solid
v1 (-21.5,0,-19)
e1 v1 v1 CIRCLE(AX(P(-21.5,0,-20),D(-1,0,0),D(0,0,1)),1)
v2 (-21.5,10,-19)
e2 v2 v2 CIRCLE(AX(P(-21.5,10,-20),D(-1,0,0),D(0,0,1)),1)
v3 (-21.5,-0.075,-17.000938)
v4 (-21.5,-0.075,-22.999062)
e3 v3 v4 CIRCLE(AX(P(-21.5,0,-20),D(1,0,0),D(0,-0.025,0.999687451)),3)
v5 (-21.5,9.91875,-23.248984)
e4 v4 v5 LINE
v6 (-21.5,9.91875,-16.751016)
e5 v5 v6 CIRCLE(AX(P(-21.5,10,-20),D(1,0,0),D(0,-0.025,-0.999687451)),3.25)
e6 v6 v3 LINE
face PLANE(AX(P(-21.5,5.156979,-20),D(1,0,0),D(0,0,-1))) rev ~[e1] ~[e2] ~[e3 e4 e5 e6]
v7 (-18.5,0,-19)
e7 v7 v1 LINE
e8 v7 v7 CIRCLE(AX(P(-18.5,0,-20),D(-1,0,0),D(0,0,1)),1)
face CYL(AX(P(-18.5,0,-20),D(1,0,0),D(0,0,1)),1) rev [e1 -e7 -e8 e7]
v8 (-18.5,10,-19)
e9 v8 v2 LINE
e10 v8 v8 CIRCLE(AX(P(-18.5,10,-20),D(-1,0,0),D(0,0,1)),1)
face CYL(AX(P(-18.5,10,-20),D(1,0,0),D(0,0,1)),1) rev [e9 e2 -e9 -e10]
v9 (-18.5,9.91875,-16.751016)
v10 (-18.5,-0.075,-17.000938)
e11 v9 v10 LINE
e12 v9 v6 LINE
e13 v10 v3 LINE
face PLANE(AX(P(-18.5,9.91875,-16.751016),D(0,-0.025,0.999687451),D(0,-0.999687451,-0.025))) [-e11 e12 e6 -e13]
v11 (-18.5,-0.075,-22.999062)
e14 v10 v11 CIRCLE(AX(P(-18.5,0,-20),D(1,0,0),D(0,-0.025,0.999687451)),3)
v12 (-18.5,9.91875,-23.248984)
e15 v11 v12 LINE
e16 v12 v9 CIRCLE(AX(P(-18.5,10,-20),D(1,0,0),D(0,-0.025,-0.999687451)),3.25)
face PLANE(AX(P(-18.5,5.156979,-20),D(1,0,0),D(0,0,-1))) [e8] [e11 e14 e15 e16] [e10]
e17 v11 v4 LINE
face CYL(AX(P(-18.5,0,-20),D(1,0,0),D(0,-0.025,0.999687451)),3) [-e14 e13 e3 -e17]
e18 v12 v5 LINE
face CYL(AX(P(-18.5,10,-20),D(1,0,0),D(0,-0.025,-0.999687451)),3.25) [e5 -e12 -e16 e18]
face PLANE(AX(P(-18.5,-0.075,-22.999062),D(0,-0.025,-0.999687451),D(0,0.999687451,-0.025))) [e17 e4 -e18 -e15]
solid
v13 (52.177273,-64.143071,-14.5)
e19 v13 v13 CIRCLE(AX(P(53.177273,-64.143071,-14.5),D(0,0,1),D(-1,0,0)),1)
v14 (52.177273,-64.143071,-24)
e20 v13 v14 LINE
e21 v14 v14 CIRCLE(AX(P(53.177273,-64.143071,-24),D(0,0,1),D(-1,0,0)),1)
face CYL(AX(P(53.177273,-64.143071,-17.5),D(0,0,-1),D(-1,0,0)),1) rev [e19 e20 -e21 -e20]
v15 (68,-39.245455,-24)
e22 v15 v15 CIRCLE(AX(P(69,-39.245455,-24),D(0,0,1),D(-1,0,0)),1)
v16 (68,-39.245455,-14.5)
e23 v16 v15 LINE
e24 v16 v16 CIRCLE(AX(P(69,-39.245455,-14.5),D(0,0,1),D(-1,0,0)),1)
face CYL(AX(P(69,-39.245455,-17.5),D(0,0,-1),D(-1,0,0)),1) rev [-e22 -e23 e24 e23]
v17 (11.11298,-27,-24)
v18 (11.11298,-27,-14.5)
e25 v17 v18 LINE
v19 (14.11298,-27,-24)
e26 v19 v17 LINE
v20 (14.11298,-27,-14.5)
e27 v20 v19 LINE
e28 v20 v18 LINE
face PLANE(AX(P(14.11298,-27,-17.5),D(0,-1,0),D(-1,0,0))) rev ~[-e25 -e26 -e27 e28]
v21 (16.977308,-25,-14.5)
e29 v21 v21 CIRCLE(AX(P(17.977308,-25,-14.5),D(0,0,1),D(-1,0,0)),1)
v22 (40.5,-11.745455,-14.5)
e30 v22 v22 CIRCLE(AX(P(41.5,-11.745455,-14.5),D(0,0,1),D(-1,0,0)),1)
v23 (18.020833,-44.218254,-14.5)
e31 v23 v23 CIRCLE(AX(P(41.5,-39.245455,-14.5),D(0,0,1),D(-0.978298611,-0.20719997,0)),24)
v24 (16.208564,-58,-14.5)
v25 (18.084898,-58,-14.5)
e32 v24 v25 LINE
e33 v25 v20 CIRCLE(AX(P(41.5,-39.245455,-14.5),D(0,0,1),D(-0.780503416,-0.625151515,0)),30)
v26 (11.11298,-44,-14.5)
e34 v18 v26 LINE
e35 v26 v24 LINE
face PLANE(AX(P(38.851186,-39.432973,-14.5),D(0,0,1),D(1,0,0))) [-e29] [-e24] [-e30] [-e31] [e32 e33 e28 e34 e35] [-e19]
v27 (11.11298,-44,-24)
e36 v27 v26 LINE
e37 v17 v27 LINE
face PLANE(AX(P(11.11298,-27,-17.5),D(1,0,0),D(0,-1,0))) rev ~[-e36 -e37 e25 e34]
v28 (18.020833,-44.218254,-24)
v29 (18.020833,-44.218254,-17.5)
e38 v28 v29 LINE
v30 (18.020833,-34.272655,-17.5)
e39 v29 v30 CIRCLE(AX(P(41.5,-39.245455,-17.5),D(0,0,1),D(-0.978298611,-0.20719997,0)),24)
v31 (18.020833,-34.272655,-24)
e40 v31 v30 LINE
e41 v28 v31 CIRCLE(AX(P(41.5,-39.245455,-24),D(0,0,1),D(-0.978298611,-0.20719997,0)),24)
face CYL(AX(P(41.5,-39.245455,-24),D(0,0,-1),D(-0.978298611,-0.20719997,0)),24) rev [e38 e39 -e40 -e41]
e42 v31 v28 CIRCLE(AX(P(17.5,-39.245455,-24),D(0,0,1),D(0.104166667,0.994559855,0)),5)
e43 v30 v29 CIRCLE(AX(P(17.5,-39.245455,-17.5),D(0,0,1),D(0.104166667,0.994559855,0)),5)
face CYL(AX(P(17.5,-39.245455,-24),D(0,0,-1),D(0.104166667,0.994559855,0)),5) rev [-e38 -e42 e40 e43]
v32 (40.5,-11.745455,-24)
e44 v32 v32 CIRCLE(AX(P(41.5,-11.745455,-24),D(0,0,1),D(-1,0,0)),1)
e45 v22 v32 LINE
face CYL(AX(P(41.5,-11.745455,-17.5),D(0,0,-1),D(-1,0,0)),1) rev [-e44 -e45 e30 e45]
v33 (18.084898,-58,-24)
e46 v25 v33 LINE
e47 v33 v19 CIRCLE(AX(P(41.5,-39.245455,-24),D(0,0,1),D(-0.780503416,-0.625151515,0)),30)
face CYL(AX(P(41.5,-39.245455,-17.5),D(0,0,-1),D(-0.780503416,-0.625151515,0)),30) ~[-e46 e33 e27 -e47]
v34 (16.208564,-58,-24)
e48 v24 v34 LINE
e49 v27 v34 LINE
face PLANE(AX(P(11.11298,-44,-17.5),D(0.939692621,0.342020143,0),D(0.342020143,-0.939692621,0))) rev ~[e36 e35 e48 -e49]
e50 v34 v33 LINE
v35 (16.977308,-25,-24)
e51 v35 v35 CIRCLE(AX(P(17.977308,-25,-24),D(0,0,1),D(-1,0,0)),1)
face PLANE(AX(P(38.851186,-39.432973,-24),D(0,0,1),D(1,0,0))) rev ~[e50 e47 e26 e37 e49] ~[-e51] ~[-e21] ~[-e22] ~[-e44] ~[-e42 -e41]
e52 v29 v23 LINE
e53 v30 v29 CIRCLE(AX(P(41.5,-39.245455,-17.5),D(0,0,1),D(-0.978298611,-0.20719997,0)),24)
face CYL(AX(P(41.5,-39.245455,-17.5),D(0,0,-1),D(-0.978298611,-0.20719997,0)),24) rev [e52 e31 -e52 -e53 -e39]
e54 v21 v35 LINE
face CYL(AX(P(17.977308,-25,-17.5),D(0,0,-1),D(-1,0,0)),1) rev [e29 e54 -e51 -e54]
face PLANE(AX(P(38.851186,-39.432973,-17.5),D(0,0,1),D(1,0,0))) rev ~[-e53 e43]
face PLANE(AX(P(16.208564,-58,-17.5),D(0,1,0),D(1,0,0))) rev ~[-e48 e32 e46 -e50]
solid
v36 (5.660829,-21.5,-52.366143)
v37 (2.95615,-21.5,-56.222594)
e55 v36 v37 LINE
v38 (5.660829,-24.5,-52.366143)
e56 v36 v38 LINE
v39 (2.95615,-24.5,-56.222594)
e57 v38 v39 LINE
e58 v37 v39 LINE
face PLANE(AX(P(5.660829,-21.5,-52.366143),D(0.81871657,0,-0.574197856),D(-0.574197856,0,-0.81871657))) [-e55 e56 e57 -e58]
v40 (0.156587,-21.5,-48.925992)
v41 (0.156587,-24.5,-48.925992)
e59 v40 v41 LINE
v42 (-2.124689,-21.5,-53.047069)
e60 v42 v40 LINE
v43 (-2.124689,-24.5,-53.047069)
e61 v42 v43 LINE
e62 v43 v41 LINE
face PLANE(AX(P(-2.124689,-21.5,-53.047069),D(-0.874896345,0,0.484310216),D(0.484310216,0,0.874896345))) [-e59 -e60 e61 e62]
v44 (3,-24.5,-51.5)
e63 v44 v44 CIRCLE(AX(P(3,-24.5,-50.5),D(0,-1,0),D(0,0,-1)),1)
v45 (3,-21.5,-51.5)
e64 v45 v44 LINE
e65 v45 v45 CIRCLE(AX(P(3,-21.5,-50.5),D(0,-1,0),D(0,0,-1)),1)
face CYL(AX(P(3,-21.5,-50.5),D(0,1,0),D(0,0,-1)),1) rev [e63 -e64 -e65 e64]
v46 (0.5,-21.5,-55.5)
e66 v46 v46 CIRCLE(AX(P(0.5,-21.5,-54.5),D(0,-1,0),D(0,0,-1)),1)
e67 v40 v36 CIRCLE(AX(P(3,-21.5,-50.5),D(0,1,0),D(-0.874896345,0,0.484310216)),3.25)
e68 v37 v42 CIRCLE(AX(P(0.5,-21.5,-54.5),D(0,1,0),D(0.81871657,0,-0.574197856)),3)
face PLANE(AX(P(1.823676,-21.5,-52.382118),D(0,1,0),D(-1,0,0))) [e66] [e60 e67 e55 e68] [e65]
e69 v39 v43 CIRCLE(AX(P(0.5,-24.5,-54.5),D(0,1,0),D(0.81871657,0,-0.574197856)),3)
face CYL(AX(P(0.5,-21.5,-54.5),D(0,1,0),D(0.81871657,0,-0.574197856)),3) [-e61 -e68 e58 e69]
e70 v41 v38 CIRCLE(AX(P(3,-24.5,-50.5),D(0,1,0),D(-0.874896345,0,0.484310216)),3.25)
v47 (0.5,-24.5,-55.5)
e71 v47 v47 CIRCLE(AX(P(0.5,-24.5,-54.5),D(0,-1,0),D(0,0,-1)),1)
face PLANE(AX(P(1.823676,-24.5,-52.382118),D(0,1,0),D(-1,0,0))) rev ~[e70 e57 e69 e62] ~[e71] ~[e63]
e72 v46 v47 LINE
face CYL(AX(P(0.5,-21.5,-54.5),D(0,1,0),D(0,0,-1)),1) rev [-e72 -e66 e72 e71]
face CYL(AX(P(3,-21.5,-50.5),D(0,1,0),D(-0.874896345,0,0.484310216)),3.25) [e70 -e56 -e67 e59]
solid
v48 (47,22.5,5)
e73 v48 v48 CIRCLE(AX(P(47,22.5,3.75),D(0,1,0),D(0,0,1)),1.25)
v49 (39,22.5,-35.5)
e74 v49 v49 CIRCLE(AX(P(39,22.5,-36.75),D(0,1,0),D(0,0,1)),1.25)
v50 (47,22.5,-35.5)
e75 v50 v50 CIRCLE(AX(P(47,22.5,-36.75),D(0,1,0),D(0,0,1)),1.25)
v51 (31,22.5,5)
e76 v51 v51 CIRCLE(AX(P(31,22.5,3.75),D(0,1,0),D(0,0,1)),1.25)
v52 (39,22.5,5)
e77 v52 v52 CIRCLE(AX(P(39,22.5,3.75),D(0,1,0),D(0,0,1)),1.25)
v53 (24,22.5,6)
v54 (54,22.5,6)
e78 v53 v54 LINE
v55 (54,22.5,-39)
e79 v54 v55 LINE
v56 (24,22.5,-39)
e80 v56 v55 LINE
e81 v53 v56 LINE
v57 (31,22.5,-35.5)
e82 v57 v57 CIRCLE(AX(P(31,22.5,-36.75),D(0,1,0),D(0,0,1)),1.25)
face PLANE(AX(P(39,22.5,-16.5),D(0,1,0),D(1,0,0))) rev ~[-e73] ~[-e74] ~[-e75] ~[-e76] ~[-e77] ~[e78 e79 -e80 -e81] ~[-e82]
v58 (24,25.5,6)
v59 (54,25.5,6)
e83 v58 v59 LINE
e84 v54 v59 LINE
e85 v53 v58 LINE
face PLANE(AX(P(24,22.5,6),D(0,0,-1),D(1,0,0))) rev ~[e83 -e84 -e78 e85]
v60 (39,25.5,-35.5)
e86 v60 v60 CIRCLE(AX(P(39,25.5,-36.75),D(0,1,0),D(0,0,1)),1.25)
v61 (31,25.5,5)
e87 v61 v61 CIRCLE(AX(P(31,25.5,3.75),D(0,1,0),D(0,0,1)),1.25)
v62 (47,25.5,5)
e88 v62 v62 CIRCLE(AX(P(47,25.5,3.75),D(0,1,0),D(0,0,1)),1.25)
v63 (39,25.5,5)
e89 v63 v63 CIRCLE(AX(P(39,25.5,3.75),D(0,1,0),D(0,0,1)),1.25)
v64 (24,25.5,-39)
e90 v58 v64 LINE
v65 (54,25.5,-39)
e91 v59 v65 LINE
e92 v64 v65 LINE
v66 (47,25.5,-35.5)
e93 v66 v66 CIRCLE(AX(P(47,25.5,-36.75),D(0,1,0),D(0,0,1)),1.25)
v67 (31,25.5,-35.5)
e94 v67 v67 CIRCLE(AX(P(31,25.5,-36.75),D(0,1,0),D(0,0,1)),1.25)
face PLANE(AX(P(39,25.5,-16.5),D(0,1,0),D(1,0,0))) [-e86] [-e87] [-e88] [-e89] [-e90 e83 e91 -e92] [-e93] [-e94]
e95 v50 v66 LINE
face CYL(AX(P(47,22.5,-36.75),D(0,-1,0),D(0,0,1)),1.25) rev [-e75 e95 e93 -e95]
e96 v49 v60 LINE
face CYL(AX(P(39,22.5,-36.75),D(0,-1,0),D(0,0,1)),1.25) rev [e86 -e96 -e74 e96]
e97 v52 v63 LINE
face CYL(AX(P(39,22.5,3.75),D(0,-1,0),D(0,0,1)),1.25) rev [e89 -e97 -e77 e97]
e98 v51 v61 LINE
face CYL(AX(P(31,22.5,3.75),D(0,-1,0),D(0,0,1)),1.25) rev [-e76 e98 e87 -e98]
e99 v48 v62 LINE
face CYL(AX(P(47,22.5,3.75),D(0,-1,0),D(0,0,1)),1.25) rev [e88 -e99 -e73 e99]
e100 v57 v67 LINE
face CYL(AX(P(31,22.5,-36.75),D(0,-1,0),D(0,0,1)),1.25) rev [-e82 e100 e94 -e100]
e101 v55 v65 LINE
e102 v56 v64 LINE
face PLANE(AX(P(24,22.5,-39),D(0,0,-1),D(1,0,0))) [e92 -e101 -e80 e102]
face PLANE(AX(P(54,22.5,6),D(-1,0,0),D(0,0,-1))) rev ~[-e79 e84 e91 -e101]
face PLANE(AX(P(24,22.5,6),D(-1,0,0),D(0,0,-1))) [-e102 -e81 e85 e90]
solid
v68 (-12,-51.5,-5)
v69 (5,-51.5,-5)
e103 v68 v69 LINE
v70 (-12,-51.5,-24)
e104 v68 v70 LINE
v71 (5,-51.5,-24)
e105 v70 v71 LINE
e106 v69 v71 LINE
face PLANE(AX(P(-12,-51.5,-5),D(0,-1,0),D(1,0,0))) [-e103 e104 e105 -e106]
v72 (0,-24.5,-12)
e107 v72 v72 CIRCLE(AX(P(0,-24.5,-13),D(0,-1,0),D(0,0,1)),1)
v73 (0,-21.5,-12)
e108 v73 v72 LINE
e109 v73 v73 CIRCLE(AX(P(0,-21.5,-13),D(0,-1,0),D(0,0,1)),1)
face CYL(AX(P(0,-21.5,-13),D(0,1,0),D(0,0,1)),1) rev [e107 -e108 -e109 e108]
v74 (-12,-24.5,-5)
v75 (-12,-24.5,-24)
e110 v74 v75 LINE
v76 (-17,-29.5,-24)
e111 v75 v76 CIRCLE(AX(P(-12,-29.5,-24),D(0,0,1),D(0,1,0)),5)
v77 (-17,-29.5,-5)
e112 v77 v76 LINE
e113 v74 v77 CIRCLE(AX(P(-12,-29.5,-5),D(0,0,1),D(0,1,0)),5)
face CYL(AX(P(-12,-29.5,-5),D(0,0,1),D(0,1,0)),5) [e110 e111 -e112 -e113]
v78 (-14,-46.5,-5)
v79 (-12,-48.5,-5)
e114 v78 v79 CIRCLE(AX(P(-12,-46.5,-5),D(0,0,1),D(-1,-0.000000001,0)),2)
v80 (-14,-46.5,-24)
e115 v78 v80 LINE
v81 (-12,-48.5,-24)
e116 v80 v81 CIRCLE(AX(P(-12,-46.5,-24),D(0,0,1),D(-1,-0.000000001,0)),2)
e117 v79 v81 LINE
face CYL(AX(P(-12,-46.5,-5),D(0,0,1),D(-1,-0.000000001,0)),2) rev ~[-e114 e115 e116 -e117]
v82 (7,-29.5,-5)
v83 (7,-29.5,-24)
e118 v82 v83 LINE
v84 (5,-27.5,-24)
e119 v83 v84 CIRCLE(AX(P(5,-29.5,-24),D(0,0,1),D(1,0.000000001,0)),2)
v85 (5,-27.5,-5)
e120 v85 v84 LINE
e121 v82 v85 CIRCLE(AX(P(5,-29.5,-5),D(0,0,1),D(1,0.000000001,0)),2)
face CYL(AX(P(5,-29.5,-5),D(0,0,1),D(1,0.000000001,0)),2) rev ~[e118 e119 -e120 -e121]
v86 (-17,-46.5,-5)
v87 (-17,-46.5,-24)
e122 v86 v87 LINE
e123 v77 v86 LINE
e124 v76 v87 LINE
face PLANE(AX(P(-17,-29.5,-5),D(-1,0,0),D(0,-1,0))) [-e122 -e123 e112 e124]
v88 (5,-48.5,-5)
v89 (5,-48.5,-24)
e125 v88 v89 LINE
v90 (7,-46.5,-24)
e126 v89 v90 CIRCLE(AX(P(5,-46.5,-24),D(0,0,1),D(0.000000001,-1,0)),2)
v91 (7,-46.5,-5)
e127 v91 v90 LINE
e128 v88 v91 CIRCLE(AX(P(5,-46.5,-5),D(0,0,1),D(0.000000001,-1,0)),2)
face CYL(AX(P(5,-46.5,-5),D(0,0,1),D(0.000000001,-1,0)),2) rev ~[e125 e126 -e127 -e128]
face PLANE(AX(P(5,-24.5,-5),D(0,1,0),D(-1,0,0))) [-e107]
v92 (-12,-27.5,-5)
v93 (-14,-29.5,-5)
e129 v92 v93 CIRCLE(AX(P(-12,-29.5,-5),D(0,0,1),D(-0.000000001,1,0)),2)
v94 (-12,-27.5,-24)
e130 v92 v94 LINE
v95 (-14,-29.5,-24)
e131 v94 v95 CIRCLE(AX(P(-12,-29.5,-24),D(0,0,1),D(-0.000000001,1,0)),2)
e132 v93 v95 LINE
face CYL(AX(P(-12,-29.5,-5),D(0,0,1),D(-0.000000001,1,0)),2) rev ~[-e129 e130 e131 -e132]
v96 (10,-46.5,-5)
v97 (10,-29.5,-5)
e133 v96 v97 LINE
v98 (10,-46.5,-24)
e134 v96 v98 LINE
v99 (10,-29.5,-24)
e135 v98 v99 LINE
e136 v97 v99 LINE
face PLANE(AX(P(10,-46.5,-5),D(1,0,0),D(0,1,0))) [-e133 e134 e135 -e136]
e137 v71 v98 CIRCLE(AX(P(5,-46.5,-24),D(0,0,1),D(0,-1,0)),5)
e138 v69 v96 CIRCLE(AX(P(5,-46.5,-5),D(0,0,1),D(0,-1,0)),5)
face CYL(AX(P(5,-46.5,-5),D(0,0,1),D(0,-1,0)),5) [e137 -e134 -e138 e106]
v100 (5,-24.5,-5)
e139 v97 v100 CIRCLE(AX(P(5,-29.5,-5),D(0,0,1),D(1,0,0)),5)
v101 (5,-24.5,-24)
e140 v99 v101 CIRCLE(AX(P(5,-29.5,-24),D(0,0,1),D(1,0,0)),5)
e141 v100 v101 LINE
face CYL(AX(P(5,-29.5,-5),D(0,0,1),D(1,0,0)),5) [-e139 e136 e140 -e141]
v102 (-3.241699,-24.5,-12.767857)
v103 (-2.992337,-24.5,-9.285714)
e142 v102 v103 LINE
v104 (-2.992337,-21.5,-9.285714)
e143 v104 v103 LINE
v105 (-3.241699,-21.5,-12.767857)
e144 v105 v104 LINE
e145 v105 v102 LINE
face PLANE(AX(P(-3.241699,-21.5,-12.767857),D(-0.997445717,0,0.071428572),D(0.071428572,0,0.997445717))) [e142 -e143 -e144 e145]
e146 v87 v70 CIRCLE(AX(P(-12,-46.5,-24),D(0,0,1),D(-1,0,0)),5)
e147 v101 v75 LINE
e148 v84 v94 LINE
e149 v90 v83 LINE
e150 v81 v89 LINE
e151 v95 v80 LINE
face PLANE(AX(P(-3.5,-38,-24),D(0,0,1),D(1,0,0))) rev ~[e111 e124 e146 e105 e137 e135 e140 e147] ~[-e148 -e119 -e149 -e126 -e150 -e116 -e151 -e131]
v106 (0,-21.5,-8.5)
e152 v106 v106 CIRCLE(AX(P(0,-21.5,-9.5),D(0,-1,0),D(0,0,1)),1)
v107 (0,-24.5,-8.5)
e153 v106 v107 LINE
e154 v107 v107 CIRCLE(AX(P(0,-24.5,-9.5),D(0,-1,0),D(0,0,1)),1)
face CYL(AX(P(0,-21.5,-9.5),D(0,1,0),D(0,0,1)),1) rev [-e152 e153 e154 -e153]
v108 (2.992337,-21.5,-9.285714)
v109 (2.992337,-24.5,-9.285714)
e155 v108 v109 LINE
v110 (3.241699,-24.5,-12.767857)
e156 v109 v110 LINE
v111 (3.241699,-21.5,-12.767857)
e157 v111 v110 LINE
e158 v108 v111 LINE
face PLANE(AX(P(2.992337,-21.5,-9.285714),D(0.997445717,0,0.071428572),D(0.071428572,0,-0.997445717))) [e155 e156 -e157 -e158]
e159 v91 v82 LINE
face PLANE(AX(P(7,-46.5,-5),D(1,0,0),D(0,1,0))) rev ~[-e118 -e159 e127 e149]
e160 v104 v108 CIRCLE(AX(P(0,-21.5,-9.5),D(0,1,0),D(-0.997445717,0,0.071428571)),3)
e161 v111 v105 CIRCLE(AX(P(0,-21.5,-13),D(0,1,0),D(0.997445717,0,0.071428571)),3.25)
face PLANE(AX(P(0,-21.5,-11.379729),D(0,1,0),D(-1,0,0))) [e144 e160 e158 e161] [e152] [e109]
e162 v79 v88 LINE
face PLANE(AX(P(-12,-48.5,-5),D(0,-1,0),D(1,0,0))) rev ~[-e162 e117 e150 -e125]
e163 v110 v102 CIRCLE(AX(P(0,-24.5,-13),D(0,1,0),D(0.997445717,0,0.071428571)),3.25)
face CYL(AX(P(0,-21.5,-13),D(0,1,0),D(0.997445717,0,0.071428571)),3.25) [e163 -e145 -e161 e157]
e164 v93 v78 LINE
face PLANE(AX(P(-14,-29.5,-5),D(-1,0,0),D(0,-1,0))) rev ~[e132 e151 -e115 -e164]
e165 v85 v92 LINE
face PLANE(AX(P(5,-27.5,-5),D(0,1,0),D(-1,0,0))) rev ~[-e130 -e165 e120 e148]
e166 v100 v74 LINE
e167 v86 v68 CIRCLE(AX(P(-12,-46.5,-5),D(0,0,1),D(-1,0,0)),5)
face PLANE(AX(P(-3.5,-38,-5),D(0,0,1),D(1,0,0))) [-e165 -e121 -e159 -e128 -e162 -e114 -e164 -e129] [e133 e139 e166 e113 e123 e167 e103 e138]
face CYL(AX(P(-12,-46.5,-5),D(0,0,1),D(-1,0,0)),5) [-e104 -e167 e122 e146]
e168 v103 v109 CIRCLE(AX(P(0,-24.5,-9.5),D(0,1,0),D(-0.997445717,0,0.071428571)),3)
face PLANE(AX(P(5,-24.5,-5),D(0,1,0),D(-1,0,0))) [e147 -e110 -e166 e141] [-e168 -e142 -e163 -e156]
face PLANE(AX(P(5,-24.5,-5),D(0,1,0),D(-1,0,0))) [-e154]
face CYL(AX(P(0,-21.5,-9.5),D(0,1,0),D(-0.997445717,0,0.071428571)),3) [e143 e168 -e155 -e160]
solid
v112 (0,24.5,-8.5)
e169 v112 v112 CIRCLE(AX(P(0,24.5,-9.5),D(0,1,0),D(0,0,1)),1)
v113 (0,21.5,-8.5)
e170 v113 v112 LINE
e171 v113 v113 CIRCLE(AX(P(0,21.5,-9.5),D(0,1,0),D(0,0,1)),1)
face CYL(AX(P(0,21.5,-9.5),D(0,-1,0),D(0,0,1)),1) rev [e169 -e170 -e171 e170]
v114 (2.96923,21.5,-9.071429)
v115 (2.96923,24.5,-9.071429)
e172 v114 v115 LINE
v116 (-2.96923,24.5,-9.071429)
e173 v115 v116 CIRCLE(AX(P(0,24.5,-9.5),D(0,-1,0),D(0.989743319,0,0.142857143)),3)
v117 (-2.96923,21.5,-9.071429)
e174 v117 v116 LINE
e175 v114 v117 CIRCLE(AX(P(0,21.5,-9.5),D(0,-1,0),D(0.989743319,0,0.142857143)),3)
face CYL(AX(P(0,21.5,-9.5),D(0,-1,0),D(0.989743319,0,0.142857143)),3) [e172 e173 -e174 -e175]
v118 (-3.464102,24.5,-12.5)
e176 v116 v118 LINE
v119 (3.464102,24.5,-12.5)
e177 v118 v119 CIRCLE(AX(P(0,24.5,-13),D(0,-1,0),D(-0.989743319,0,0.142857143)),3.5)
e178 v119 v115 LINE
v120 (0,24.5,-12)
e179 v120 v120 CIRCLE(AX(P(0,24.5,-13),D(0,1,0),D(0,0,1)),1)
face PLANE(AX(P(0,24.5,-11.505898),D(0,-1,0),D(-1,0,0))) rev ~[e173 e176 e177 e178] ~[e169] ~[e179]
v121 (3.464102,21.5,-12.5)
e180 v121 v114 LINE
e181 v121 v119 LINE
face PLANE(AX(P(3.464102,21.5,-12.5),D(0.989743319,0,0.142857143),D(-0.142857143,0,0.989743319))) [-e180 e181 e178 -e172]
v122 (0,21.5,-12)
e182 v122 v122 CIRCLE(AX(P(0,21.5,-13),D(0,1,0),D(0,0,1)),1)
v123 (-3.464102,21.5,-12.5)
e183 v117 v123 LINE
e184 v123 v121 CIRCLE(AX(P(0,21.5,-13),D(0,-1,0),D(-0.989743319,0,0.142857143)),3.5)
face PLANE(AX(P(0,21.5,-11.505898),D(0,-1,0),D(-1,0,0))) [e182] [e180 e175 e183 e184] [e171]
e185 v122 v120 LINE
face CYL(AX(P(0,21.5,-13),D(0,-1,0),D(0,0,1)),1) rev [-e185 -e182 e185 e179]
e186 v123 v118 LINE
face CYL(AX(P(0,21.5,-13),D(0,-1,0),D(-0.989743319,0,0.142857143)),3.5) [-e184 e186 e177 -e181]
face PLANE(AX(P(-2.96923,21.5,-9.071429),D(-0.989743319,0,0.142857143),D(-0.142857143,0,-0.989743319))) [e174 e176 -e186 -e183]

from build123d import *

# Parameters (mm, degrees)
SKETCH1_W           = 30
SKETCH1_H           = 45
SKETCH1_R           = 1.25
LASER_IF_DEPTH      = 3
SKETCH2_R           = 1
FLIR_IF_DEPTH       = 6.5
SKETCH7_R           = 24
SKETCH7_R_2         = 1
FLIR_IF_TOP_DEPTH   = 3
LWIR_IF_DEPTH       = 19
SKETCH4_R           = 1
BOSS_EXTRUDE4_DEPTH = 3
SKETCH5_R           = 1
BOSS_EXTRUDE5_DEPTH = 3
SKETCH6_R           = 1
BOSS_EXTRUDE6_DEPTH = 3


with BuildPart() as part:
    # Sketch1 → LASER IF (new body)
    with BuildSketch(Plane(origin=(0, 22.5, 0), x_dir=(1, 0, 0), z_dir=(0, 1, 0))):
        with Locations((39, 16.5)):
            Rectangle(SKETCH1_W, SKETCH1_H)
        with Locations(Location((47, -3.75, 0), (0, 0, 270))):
            Circle(SKETCH1_R, mode=Mode.SUBTRACT)
        with Locations(Location((39, -3.75, 0), (0, 0, 270))):
            Circle(SKETCH1_R, mode=Mode.SUBTRACT)
        with Locations(Location((31, -3.75, 0), (0, 0, 270))):
            Circle(SKETCH1_R, mode=Mode.SUBTRACT)
        with Locations(Location((47, 36.75, 0), (0, 0, 270))):
            Circle(SKETCH1_R, mode=Mode.SUBTRACT)
        with Locations(Location((39, 36.75, 0), (0, 0, 270))):
            Circle(SKETCH1_R, mode=Mode.SUBTRACT)
        with Locations(Location((31, 36.75, 0), (0, 0, 270))):
            Circle(SKETCH1_R, mode=Mode.SUBTRACT)
    extrude(amount=LASER_IF_DEPTH)


with BuildPart() as body_2:
    # Sketch2 → FLIR IF (new body)
    with BuildSketch(Plane.XY.offset(-24)):
        with BuildLine():
            Line((14.112980393, -27), (11.112980393, -27))
            Line((11.112980393, -27), (11.112980393, -44))
            Line((11.112980393, -44), (16.208563672, -58))
            Line((16.208563672, -58), (18.084897506, -58))
            ThreePointArc((18.084897506, -58), (71.256745496, -35.432831104), (14.112980393, -27))
        make_face()
        with Locations(Location((53.177272727, -64.14307093, 0), (0, 0, 180))):
            Circle(SKETCH2_R, mode=Mode.SUBTRACT)
        with Locations(Location((69, -39.245454545, 0), (0, 0, 180))):
            Circle(SKETCH2_R, mode=Mode.SUBTRACT)
        with Locations(Location((17.9773083, -25, 0), (0, 0, 180))):
            Circle(SKETCH2_R, mode=Mode.SUBTRACT)
        with Locations(Location((41.5, -11.745454545, 0), (0, 0, 180))):
            Circle(SKETCH2_R, mode=Mode.SUBTRACT)
        with BuildLine():
            ThreePointArc((18.020833333, -44.218253821), (65.5, -39.245454545), (18.020833333, -34.27265527))
            ThreePointArc((18.020833333, -34.27265527), (12.5, -39.245454545), (18.020833333, -44.218253821))
        make_face(mode=Mode.SUBTRACT)
    extrude(amount=FLIR_IF_DEPTH)

    # Sketch7 → FLIR IF TOP (add)
    with BuildSketch(Plane.XY.offset(-17.5)):
        with BuildLine():
            Line((14.112980393, -27), (11.112980393, -27))
            Line((11.112980393, -27), (11.112980393, -44))
            Line((11.112980393, -44), (16.208563672, -58))
            Line((16.208563672, -58), (18.084897506, -58))
            ThreePointArc((18.084897506, -58), (71.256745496, -35.432831104), (14.112980393, -27))
        make_face()
        with Locations(Location((41.5, -39.245454545, 0), (0, 0, 191.958313593))):
            Circle(SKETCH7_R, mode=Mode.SUBTRACT)
        with Locations(Location((53.177272727, -64.14307093, 0), (0, 0, 180))):
            Circle(SKETCH7_R_2, mode=Mode.SUBTRACT)
        with Locations(Location((69, -39.245454545, 0), (0, 0, 180))):
            Circle(SKETCH7_R_2, mode=Mode.SUBTRACT)
        with Locations(Location((41.5, -11.745454545, 0), (0, 0, 180))):
            Circle(SKETCH7_R_2, mode=Mode.SUBTRACT)
        with Locations(Location((17.9773083, -25, 0), (0, 0, 180))):
            Circle(SKETCH7_R_2, mode=Mode.SUBTRACT)
    extrude(amount=FLIR_IF_TOP_DEPTH)


with BuildPart() as body_3:
    # Sketch3 → LWIR IF (new body)
    with BuildSketch(Plane.XY.offset(-5)):
        with BuildLine():
            Line((-17, -29.5), (-17, -38))
            Line((-17, -38), (-17, -46.5))
            ThreePointArc((-17, -46.5), (-15.535533906, -50.035533906), (-12, -51.5))
            Line((-12, -51.5), (-3.5, -51.5))
            Line((-3.5, -51.5), (5, -51.5))
            ThreePointArc((5, -51.5), (8.535533906, -50.035533906), (10, -46.5))
            Line((10, -46.5), (10, -38))
            Line((10, -38), (10, -29.5))
            ThreePointArc((10, -29.5), (8.535533906, -25.964466094), (5, -24.5))
            Line((5, -24.5), (-3.5, -24.5))
            Line((-3.5, -24.5), (-12, -24.5))
            ThreePointArc((-12, -24.5), (-15.535533906, -25.964466094), (-17, -29.5))
        make_face()
        with BuildLine():
            Line((-14, -29.5), (-14, -38))
            Line((-14, -38), (-14, -46.5))
            ThreePointArc((-14, -46.5), (-13.414213562, -47.914213562), (-12, -48.5))
            Line((-12, -48.5), (-3.5, -48.5))
            Line((-3.5, -48.5), (5, -48.5))
            ThreePointArc((5, -48.5), (6.414213562, -47.914213562), (7, -46.5))
            Line((7, -46.5), (7, -38))
            Line((7, -38), (7, -29.5))
            ThreePointArc((7, -29.5), (6.414213562, -28.085786438), (5, -27.5))
            Line((5, -27.5), (-3.5, -27.5))
            Line((-3.5, -27.5), (-12, -27.5))
            ThreePointArc((-12, -27.5), (-13.414213562, -28.085786438), (-14, -29.5))
        make_face(mode=Mode.SUBTRACT)
    extrude(amount=-LWIR_IF_DEPTH)

    # Sketch6 → Boss-Extrude6 (add)
    # profile 1 of 2: a face of its own
    with BuildSketch(Plane.XZ.offset(21.5)):
        with BuildLine():
            Line((-2.124689036, -53.047069353), (0.156586878, -48.925991799))
            ThreePointArc((0.156586878, -48.925991799), (4.722496555, -47.744005512), (5.660828852, -52.366143033))
            Line((5.660828852, -52.366143033), (2.95614971, -56.222593569))
            ThreePointArc((2.95614971, -56.222593569), (-1.08999682, -57.043994912), (-2.124689036, -53.047069353))
        make_face()
        with Locations(Location((3, -50.5, 0), (0, 0, 270))):
            Circle(SKETCH6_R, mode=Mode.SUBTRACT)
        with Locations(Location((0.5, -54.5, 0), (0, 0, 270))):
            Circle(SKETCH6_R, mode=Mode.SUBTRACT)
    # profile 2 of 2: a face of its own
    with BuildSketch(Plane.XZ.offset(21.5)):
        with BuildLine():
            Line((-3.241698582, -12.767857143), (-2.992337152, -9.285714286))
            ThreePointArc((-2.992337152, -9.285714286), (0, -6.5), (2.992337152, -9.285714286))
            Line((2.992337152, -9.285714286), (3.241698582, -12.767857143))
            ThreePointArc((3.241698582, -12.767857143), (0, -16.25), (-3.241698582, -12.767857143))
        make_face()
        with Locations(Location((0, -9.5, 0), (0, 0, 90))):
            Circle(SKETCH6_R, mode=Mode.SUBTRACT)
        with Locations(Location((0, -13, 0), (0, 0, 90))):
            Circle(SKETCH6_R, mode=Mode.SUBTRACT)
    extrude(amount=BOSS_EXTRUDE6_DEPTH)


with BuildPart() as body_4:
    # Sketch4 → Boss-Extrude4 (new body)
    with BuildSketch(Plane(origin=(0, 21.5, 0), x_dir=(1, 0, 0), z_dir=(0, 1, 0))):
        with BuildLine():
            Line((3.464101615, 12.5), (2.969229956, 9.071428571))
            ThreePointArc((2.969229956, 9.071428571), (0, 6.5), (-2.969229956, 9.071428571))
            Line((-2.969229956, 9.071428571), (-3.464101615, 12.5))
            ThreePointArc((-3.464101615, 12.5), (0, 16.5), (3.464101615, 12.5))
        make_face()
        with Locations(Location((0, 13, 0), (0, 0, 270))):
            Circle(SKETCH4_R, mode=Mode.SUBTRACT)
        with Locations(Location((0, 9.5, 0), (0, 0, 270))):
            Circle(SKETCH4_R, mode=Mode.SUBTRACT)
    extrude(amount=BOSS_EXTRUDE4_DEPTH)


with BuildPart() as body_5:
    # Sketch5 → Boss-Extrude5 (new body)
    with BuildSketch(Plane.ZY.offset(18.5)):
        with BuildLine():
            Line((-22.999062353, -0.075), (-23.248984216, 9.91875))
            ThreePointArc((-23.248984216, 9.91875), (-20, 13.25), (-16.751015784, 9.91875))
            Line((-16.751015784, 9.91875), (-17.000937647, -0.075))
            ThreePointArc((-17.000937647, -0.075), (-20, -3), (-22.999062353, -0.075))
        make_face()
        with Locations((-20, 0)):
            Circle(SKETCH5_R, mode=Mode.SUBTRACT)
        with Locations((-20, 10)):
            Circle(SKETCH5_R, mode=Mode.SUBTRACT)
    extrude(amount=BOSS_EXTRUDE5_DEPTH)


with BuildPart() as boss_extrude6_piece_1:
    # of the separate pieces the step leaves, piece 1, a body of its own (boss_extrude6_pieces)
    add(body_3.part.solids().sort_by_distance((10, -29.5, -5))[0])


with BuildPart() as boss_extrude6_piece_2:
    # of the separate pieces the step leaves, piece 2, a body of its own (boss_extrude6_pieces)
    add(body_3.part.solids().sort_by_distance((-2.124689036, -21.5, -53.047069353))[0])


solid = Compound([part.part, body_2.part, body_4.part, body_5.part, boss_extrude6_piece_1.part, boss_extrude6_piece_2.part])
